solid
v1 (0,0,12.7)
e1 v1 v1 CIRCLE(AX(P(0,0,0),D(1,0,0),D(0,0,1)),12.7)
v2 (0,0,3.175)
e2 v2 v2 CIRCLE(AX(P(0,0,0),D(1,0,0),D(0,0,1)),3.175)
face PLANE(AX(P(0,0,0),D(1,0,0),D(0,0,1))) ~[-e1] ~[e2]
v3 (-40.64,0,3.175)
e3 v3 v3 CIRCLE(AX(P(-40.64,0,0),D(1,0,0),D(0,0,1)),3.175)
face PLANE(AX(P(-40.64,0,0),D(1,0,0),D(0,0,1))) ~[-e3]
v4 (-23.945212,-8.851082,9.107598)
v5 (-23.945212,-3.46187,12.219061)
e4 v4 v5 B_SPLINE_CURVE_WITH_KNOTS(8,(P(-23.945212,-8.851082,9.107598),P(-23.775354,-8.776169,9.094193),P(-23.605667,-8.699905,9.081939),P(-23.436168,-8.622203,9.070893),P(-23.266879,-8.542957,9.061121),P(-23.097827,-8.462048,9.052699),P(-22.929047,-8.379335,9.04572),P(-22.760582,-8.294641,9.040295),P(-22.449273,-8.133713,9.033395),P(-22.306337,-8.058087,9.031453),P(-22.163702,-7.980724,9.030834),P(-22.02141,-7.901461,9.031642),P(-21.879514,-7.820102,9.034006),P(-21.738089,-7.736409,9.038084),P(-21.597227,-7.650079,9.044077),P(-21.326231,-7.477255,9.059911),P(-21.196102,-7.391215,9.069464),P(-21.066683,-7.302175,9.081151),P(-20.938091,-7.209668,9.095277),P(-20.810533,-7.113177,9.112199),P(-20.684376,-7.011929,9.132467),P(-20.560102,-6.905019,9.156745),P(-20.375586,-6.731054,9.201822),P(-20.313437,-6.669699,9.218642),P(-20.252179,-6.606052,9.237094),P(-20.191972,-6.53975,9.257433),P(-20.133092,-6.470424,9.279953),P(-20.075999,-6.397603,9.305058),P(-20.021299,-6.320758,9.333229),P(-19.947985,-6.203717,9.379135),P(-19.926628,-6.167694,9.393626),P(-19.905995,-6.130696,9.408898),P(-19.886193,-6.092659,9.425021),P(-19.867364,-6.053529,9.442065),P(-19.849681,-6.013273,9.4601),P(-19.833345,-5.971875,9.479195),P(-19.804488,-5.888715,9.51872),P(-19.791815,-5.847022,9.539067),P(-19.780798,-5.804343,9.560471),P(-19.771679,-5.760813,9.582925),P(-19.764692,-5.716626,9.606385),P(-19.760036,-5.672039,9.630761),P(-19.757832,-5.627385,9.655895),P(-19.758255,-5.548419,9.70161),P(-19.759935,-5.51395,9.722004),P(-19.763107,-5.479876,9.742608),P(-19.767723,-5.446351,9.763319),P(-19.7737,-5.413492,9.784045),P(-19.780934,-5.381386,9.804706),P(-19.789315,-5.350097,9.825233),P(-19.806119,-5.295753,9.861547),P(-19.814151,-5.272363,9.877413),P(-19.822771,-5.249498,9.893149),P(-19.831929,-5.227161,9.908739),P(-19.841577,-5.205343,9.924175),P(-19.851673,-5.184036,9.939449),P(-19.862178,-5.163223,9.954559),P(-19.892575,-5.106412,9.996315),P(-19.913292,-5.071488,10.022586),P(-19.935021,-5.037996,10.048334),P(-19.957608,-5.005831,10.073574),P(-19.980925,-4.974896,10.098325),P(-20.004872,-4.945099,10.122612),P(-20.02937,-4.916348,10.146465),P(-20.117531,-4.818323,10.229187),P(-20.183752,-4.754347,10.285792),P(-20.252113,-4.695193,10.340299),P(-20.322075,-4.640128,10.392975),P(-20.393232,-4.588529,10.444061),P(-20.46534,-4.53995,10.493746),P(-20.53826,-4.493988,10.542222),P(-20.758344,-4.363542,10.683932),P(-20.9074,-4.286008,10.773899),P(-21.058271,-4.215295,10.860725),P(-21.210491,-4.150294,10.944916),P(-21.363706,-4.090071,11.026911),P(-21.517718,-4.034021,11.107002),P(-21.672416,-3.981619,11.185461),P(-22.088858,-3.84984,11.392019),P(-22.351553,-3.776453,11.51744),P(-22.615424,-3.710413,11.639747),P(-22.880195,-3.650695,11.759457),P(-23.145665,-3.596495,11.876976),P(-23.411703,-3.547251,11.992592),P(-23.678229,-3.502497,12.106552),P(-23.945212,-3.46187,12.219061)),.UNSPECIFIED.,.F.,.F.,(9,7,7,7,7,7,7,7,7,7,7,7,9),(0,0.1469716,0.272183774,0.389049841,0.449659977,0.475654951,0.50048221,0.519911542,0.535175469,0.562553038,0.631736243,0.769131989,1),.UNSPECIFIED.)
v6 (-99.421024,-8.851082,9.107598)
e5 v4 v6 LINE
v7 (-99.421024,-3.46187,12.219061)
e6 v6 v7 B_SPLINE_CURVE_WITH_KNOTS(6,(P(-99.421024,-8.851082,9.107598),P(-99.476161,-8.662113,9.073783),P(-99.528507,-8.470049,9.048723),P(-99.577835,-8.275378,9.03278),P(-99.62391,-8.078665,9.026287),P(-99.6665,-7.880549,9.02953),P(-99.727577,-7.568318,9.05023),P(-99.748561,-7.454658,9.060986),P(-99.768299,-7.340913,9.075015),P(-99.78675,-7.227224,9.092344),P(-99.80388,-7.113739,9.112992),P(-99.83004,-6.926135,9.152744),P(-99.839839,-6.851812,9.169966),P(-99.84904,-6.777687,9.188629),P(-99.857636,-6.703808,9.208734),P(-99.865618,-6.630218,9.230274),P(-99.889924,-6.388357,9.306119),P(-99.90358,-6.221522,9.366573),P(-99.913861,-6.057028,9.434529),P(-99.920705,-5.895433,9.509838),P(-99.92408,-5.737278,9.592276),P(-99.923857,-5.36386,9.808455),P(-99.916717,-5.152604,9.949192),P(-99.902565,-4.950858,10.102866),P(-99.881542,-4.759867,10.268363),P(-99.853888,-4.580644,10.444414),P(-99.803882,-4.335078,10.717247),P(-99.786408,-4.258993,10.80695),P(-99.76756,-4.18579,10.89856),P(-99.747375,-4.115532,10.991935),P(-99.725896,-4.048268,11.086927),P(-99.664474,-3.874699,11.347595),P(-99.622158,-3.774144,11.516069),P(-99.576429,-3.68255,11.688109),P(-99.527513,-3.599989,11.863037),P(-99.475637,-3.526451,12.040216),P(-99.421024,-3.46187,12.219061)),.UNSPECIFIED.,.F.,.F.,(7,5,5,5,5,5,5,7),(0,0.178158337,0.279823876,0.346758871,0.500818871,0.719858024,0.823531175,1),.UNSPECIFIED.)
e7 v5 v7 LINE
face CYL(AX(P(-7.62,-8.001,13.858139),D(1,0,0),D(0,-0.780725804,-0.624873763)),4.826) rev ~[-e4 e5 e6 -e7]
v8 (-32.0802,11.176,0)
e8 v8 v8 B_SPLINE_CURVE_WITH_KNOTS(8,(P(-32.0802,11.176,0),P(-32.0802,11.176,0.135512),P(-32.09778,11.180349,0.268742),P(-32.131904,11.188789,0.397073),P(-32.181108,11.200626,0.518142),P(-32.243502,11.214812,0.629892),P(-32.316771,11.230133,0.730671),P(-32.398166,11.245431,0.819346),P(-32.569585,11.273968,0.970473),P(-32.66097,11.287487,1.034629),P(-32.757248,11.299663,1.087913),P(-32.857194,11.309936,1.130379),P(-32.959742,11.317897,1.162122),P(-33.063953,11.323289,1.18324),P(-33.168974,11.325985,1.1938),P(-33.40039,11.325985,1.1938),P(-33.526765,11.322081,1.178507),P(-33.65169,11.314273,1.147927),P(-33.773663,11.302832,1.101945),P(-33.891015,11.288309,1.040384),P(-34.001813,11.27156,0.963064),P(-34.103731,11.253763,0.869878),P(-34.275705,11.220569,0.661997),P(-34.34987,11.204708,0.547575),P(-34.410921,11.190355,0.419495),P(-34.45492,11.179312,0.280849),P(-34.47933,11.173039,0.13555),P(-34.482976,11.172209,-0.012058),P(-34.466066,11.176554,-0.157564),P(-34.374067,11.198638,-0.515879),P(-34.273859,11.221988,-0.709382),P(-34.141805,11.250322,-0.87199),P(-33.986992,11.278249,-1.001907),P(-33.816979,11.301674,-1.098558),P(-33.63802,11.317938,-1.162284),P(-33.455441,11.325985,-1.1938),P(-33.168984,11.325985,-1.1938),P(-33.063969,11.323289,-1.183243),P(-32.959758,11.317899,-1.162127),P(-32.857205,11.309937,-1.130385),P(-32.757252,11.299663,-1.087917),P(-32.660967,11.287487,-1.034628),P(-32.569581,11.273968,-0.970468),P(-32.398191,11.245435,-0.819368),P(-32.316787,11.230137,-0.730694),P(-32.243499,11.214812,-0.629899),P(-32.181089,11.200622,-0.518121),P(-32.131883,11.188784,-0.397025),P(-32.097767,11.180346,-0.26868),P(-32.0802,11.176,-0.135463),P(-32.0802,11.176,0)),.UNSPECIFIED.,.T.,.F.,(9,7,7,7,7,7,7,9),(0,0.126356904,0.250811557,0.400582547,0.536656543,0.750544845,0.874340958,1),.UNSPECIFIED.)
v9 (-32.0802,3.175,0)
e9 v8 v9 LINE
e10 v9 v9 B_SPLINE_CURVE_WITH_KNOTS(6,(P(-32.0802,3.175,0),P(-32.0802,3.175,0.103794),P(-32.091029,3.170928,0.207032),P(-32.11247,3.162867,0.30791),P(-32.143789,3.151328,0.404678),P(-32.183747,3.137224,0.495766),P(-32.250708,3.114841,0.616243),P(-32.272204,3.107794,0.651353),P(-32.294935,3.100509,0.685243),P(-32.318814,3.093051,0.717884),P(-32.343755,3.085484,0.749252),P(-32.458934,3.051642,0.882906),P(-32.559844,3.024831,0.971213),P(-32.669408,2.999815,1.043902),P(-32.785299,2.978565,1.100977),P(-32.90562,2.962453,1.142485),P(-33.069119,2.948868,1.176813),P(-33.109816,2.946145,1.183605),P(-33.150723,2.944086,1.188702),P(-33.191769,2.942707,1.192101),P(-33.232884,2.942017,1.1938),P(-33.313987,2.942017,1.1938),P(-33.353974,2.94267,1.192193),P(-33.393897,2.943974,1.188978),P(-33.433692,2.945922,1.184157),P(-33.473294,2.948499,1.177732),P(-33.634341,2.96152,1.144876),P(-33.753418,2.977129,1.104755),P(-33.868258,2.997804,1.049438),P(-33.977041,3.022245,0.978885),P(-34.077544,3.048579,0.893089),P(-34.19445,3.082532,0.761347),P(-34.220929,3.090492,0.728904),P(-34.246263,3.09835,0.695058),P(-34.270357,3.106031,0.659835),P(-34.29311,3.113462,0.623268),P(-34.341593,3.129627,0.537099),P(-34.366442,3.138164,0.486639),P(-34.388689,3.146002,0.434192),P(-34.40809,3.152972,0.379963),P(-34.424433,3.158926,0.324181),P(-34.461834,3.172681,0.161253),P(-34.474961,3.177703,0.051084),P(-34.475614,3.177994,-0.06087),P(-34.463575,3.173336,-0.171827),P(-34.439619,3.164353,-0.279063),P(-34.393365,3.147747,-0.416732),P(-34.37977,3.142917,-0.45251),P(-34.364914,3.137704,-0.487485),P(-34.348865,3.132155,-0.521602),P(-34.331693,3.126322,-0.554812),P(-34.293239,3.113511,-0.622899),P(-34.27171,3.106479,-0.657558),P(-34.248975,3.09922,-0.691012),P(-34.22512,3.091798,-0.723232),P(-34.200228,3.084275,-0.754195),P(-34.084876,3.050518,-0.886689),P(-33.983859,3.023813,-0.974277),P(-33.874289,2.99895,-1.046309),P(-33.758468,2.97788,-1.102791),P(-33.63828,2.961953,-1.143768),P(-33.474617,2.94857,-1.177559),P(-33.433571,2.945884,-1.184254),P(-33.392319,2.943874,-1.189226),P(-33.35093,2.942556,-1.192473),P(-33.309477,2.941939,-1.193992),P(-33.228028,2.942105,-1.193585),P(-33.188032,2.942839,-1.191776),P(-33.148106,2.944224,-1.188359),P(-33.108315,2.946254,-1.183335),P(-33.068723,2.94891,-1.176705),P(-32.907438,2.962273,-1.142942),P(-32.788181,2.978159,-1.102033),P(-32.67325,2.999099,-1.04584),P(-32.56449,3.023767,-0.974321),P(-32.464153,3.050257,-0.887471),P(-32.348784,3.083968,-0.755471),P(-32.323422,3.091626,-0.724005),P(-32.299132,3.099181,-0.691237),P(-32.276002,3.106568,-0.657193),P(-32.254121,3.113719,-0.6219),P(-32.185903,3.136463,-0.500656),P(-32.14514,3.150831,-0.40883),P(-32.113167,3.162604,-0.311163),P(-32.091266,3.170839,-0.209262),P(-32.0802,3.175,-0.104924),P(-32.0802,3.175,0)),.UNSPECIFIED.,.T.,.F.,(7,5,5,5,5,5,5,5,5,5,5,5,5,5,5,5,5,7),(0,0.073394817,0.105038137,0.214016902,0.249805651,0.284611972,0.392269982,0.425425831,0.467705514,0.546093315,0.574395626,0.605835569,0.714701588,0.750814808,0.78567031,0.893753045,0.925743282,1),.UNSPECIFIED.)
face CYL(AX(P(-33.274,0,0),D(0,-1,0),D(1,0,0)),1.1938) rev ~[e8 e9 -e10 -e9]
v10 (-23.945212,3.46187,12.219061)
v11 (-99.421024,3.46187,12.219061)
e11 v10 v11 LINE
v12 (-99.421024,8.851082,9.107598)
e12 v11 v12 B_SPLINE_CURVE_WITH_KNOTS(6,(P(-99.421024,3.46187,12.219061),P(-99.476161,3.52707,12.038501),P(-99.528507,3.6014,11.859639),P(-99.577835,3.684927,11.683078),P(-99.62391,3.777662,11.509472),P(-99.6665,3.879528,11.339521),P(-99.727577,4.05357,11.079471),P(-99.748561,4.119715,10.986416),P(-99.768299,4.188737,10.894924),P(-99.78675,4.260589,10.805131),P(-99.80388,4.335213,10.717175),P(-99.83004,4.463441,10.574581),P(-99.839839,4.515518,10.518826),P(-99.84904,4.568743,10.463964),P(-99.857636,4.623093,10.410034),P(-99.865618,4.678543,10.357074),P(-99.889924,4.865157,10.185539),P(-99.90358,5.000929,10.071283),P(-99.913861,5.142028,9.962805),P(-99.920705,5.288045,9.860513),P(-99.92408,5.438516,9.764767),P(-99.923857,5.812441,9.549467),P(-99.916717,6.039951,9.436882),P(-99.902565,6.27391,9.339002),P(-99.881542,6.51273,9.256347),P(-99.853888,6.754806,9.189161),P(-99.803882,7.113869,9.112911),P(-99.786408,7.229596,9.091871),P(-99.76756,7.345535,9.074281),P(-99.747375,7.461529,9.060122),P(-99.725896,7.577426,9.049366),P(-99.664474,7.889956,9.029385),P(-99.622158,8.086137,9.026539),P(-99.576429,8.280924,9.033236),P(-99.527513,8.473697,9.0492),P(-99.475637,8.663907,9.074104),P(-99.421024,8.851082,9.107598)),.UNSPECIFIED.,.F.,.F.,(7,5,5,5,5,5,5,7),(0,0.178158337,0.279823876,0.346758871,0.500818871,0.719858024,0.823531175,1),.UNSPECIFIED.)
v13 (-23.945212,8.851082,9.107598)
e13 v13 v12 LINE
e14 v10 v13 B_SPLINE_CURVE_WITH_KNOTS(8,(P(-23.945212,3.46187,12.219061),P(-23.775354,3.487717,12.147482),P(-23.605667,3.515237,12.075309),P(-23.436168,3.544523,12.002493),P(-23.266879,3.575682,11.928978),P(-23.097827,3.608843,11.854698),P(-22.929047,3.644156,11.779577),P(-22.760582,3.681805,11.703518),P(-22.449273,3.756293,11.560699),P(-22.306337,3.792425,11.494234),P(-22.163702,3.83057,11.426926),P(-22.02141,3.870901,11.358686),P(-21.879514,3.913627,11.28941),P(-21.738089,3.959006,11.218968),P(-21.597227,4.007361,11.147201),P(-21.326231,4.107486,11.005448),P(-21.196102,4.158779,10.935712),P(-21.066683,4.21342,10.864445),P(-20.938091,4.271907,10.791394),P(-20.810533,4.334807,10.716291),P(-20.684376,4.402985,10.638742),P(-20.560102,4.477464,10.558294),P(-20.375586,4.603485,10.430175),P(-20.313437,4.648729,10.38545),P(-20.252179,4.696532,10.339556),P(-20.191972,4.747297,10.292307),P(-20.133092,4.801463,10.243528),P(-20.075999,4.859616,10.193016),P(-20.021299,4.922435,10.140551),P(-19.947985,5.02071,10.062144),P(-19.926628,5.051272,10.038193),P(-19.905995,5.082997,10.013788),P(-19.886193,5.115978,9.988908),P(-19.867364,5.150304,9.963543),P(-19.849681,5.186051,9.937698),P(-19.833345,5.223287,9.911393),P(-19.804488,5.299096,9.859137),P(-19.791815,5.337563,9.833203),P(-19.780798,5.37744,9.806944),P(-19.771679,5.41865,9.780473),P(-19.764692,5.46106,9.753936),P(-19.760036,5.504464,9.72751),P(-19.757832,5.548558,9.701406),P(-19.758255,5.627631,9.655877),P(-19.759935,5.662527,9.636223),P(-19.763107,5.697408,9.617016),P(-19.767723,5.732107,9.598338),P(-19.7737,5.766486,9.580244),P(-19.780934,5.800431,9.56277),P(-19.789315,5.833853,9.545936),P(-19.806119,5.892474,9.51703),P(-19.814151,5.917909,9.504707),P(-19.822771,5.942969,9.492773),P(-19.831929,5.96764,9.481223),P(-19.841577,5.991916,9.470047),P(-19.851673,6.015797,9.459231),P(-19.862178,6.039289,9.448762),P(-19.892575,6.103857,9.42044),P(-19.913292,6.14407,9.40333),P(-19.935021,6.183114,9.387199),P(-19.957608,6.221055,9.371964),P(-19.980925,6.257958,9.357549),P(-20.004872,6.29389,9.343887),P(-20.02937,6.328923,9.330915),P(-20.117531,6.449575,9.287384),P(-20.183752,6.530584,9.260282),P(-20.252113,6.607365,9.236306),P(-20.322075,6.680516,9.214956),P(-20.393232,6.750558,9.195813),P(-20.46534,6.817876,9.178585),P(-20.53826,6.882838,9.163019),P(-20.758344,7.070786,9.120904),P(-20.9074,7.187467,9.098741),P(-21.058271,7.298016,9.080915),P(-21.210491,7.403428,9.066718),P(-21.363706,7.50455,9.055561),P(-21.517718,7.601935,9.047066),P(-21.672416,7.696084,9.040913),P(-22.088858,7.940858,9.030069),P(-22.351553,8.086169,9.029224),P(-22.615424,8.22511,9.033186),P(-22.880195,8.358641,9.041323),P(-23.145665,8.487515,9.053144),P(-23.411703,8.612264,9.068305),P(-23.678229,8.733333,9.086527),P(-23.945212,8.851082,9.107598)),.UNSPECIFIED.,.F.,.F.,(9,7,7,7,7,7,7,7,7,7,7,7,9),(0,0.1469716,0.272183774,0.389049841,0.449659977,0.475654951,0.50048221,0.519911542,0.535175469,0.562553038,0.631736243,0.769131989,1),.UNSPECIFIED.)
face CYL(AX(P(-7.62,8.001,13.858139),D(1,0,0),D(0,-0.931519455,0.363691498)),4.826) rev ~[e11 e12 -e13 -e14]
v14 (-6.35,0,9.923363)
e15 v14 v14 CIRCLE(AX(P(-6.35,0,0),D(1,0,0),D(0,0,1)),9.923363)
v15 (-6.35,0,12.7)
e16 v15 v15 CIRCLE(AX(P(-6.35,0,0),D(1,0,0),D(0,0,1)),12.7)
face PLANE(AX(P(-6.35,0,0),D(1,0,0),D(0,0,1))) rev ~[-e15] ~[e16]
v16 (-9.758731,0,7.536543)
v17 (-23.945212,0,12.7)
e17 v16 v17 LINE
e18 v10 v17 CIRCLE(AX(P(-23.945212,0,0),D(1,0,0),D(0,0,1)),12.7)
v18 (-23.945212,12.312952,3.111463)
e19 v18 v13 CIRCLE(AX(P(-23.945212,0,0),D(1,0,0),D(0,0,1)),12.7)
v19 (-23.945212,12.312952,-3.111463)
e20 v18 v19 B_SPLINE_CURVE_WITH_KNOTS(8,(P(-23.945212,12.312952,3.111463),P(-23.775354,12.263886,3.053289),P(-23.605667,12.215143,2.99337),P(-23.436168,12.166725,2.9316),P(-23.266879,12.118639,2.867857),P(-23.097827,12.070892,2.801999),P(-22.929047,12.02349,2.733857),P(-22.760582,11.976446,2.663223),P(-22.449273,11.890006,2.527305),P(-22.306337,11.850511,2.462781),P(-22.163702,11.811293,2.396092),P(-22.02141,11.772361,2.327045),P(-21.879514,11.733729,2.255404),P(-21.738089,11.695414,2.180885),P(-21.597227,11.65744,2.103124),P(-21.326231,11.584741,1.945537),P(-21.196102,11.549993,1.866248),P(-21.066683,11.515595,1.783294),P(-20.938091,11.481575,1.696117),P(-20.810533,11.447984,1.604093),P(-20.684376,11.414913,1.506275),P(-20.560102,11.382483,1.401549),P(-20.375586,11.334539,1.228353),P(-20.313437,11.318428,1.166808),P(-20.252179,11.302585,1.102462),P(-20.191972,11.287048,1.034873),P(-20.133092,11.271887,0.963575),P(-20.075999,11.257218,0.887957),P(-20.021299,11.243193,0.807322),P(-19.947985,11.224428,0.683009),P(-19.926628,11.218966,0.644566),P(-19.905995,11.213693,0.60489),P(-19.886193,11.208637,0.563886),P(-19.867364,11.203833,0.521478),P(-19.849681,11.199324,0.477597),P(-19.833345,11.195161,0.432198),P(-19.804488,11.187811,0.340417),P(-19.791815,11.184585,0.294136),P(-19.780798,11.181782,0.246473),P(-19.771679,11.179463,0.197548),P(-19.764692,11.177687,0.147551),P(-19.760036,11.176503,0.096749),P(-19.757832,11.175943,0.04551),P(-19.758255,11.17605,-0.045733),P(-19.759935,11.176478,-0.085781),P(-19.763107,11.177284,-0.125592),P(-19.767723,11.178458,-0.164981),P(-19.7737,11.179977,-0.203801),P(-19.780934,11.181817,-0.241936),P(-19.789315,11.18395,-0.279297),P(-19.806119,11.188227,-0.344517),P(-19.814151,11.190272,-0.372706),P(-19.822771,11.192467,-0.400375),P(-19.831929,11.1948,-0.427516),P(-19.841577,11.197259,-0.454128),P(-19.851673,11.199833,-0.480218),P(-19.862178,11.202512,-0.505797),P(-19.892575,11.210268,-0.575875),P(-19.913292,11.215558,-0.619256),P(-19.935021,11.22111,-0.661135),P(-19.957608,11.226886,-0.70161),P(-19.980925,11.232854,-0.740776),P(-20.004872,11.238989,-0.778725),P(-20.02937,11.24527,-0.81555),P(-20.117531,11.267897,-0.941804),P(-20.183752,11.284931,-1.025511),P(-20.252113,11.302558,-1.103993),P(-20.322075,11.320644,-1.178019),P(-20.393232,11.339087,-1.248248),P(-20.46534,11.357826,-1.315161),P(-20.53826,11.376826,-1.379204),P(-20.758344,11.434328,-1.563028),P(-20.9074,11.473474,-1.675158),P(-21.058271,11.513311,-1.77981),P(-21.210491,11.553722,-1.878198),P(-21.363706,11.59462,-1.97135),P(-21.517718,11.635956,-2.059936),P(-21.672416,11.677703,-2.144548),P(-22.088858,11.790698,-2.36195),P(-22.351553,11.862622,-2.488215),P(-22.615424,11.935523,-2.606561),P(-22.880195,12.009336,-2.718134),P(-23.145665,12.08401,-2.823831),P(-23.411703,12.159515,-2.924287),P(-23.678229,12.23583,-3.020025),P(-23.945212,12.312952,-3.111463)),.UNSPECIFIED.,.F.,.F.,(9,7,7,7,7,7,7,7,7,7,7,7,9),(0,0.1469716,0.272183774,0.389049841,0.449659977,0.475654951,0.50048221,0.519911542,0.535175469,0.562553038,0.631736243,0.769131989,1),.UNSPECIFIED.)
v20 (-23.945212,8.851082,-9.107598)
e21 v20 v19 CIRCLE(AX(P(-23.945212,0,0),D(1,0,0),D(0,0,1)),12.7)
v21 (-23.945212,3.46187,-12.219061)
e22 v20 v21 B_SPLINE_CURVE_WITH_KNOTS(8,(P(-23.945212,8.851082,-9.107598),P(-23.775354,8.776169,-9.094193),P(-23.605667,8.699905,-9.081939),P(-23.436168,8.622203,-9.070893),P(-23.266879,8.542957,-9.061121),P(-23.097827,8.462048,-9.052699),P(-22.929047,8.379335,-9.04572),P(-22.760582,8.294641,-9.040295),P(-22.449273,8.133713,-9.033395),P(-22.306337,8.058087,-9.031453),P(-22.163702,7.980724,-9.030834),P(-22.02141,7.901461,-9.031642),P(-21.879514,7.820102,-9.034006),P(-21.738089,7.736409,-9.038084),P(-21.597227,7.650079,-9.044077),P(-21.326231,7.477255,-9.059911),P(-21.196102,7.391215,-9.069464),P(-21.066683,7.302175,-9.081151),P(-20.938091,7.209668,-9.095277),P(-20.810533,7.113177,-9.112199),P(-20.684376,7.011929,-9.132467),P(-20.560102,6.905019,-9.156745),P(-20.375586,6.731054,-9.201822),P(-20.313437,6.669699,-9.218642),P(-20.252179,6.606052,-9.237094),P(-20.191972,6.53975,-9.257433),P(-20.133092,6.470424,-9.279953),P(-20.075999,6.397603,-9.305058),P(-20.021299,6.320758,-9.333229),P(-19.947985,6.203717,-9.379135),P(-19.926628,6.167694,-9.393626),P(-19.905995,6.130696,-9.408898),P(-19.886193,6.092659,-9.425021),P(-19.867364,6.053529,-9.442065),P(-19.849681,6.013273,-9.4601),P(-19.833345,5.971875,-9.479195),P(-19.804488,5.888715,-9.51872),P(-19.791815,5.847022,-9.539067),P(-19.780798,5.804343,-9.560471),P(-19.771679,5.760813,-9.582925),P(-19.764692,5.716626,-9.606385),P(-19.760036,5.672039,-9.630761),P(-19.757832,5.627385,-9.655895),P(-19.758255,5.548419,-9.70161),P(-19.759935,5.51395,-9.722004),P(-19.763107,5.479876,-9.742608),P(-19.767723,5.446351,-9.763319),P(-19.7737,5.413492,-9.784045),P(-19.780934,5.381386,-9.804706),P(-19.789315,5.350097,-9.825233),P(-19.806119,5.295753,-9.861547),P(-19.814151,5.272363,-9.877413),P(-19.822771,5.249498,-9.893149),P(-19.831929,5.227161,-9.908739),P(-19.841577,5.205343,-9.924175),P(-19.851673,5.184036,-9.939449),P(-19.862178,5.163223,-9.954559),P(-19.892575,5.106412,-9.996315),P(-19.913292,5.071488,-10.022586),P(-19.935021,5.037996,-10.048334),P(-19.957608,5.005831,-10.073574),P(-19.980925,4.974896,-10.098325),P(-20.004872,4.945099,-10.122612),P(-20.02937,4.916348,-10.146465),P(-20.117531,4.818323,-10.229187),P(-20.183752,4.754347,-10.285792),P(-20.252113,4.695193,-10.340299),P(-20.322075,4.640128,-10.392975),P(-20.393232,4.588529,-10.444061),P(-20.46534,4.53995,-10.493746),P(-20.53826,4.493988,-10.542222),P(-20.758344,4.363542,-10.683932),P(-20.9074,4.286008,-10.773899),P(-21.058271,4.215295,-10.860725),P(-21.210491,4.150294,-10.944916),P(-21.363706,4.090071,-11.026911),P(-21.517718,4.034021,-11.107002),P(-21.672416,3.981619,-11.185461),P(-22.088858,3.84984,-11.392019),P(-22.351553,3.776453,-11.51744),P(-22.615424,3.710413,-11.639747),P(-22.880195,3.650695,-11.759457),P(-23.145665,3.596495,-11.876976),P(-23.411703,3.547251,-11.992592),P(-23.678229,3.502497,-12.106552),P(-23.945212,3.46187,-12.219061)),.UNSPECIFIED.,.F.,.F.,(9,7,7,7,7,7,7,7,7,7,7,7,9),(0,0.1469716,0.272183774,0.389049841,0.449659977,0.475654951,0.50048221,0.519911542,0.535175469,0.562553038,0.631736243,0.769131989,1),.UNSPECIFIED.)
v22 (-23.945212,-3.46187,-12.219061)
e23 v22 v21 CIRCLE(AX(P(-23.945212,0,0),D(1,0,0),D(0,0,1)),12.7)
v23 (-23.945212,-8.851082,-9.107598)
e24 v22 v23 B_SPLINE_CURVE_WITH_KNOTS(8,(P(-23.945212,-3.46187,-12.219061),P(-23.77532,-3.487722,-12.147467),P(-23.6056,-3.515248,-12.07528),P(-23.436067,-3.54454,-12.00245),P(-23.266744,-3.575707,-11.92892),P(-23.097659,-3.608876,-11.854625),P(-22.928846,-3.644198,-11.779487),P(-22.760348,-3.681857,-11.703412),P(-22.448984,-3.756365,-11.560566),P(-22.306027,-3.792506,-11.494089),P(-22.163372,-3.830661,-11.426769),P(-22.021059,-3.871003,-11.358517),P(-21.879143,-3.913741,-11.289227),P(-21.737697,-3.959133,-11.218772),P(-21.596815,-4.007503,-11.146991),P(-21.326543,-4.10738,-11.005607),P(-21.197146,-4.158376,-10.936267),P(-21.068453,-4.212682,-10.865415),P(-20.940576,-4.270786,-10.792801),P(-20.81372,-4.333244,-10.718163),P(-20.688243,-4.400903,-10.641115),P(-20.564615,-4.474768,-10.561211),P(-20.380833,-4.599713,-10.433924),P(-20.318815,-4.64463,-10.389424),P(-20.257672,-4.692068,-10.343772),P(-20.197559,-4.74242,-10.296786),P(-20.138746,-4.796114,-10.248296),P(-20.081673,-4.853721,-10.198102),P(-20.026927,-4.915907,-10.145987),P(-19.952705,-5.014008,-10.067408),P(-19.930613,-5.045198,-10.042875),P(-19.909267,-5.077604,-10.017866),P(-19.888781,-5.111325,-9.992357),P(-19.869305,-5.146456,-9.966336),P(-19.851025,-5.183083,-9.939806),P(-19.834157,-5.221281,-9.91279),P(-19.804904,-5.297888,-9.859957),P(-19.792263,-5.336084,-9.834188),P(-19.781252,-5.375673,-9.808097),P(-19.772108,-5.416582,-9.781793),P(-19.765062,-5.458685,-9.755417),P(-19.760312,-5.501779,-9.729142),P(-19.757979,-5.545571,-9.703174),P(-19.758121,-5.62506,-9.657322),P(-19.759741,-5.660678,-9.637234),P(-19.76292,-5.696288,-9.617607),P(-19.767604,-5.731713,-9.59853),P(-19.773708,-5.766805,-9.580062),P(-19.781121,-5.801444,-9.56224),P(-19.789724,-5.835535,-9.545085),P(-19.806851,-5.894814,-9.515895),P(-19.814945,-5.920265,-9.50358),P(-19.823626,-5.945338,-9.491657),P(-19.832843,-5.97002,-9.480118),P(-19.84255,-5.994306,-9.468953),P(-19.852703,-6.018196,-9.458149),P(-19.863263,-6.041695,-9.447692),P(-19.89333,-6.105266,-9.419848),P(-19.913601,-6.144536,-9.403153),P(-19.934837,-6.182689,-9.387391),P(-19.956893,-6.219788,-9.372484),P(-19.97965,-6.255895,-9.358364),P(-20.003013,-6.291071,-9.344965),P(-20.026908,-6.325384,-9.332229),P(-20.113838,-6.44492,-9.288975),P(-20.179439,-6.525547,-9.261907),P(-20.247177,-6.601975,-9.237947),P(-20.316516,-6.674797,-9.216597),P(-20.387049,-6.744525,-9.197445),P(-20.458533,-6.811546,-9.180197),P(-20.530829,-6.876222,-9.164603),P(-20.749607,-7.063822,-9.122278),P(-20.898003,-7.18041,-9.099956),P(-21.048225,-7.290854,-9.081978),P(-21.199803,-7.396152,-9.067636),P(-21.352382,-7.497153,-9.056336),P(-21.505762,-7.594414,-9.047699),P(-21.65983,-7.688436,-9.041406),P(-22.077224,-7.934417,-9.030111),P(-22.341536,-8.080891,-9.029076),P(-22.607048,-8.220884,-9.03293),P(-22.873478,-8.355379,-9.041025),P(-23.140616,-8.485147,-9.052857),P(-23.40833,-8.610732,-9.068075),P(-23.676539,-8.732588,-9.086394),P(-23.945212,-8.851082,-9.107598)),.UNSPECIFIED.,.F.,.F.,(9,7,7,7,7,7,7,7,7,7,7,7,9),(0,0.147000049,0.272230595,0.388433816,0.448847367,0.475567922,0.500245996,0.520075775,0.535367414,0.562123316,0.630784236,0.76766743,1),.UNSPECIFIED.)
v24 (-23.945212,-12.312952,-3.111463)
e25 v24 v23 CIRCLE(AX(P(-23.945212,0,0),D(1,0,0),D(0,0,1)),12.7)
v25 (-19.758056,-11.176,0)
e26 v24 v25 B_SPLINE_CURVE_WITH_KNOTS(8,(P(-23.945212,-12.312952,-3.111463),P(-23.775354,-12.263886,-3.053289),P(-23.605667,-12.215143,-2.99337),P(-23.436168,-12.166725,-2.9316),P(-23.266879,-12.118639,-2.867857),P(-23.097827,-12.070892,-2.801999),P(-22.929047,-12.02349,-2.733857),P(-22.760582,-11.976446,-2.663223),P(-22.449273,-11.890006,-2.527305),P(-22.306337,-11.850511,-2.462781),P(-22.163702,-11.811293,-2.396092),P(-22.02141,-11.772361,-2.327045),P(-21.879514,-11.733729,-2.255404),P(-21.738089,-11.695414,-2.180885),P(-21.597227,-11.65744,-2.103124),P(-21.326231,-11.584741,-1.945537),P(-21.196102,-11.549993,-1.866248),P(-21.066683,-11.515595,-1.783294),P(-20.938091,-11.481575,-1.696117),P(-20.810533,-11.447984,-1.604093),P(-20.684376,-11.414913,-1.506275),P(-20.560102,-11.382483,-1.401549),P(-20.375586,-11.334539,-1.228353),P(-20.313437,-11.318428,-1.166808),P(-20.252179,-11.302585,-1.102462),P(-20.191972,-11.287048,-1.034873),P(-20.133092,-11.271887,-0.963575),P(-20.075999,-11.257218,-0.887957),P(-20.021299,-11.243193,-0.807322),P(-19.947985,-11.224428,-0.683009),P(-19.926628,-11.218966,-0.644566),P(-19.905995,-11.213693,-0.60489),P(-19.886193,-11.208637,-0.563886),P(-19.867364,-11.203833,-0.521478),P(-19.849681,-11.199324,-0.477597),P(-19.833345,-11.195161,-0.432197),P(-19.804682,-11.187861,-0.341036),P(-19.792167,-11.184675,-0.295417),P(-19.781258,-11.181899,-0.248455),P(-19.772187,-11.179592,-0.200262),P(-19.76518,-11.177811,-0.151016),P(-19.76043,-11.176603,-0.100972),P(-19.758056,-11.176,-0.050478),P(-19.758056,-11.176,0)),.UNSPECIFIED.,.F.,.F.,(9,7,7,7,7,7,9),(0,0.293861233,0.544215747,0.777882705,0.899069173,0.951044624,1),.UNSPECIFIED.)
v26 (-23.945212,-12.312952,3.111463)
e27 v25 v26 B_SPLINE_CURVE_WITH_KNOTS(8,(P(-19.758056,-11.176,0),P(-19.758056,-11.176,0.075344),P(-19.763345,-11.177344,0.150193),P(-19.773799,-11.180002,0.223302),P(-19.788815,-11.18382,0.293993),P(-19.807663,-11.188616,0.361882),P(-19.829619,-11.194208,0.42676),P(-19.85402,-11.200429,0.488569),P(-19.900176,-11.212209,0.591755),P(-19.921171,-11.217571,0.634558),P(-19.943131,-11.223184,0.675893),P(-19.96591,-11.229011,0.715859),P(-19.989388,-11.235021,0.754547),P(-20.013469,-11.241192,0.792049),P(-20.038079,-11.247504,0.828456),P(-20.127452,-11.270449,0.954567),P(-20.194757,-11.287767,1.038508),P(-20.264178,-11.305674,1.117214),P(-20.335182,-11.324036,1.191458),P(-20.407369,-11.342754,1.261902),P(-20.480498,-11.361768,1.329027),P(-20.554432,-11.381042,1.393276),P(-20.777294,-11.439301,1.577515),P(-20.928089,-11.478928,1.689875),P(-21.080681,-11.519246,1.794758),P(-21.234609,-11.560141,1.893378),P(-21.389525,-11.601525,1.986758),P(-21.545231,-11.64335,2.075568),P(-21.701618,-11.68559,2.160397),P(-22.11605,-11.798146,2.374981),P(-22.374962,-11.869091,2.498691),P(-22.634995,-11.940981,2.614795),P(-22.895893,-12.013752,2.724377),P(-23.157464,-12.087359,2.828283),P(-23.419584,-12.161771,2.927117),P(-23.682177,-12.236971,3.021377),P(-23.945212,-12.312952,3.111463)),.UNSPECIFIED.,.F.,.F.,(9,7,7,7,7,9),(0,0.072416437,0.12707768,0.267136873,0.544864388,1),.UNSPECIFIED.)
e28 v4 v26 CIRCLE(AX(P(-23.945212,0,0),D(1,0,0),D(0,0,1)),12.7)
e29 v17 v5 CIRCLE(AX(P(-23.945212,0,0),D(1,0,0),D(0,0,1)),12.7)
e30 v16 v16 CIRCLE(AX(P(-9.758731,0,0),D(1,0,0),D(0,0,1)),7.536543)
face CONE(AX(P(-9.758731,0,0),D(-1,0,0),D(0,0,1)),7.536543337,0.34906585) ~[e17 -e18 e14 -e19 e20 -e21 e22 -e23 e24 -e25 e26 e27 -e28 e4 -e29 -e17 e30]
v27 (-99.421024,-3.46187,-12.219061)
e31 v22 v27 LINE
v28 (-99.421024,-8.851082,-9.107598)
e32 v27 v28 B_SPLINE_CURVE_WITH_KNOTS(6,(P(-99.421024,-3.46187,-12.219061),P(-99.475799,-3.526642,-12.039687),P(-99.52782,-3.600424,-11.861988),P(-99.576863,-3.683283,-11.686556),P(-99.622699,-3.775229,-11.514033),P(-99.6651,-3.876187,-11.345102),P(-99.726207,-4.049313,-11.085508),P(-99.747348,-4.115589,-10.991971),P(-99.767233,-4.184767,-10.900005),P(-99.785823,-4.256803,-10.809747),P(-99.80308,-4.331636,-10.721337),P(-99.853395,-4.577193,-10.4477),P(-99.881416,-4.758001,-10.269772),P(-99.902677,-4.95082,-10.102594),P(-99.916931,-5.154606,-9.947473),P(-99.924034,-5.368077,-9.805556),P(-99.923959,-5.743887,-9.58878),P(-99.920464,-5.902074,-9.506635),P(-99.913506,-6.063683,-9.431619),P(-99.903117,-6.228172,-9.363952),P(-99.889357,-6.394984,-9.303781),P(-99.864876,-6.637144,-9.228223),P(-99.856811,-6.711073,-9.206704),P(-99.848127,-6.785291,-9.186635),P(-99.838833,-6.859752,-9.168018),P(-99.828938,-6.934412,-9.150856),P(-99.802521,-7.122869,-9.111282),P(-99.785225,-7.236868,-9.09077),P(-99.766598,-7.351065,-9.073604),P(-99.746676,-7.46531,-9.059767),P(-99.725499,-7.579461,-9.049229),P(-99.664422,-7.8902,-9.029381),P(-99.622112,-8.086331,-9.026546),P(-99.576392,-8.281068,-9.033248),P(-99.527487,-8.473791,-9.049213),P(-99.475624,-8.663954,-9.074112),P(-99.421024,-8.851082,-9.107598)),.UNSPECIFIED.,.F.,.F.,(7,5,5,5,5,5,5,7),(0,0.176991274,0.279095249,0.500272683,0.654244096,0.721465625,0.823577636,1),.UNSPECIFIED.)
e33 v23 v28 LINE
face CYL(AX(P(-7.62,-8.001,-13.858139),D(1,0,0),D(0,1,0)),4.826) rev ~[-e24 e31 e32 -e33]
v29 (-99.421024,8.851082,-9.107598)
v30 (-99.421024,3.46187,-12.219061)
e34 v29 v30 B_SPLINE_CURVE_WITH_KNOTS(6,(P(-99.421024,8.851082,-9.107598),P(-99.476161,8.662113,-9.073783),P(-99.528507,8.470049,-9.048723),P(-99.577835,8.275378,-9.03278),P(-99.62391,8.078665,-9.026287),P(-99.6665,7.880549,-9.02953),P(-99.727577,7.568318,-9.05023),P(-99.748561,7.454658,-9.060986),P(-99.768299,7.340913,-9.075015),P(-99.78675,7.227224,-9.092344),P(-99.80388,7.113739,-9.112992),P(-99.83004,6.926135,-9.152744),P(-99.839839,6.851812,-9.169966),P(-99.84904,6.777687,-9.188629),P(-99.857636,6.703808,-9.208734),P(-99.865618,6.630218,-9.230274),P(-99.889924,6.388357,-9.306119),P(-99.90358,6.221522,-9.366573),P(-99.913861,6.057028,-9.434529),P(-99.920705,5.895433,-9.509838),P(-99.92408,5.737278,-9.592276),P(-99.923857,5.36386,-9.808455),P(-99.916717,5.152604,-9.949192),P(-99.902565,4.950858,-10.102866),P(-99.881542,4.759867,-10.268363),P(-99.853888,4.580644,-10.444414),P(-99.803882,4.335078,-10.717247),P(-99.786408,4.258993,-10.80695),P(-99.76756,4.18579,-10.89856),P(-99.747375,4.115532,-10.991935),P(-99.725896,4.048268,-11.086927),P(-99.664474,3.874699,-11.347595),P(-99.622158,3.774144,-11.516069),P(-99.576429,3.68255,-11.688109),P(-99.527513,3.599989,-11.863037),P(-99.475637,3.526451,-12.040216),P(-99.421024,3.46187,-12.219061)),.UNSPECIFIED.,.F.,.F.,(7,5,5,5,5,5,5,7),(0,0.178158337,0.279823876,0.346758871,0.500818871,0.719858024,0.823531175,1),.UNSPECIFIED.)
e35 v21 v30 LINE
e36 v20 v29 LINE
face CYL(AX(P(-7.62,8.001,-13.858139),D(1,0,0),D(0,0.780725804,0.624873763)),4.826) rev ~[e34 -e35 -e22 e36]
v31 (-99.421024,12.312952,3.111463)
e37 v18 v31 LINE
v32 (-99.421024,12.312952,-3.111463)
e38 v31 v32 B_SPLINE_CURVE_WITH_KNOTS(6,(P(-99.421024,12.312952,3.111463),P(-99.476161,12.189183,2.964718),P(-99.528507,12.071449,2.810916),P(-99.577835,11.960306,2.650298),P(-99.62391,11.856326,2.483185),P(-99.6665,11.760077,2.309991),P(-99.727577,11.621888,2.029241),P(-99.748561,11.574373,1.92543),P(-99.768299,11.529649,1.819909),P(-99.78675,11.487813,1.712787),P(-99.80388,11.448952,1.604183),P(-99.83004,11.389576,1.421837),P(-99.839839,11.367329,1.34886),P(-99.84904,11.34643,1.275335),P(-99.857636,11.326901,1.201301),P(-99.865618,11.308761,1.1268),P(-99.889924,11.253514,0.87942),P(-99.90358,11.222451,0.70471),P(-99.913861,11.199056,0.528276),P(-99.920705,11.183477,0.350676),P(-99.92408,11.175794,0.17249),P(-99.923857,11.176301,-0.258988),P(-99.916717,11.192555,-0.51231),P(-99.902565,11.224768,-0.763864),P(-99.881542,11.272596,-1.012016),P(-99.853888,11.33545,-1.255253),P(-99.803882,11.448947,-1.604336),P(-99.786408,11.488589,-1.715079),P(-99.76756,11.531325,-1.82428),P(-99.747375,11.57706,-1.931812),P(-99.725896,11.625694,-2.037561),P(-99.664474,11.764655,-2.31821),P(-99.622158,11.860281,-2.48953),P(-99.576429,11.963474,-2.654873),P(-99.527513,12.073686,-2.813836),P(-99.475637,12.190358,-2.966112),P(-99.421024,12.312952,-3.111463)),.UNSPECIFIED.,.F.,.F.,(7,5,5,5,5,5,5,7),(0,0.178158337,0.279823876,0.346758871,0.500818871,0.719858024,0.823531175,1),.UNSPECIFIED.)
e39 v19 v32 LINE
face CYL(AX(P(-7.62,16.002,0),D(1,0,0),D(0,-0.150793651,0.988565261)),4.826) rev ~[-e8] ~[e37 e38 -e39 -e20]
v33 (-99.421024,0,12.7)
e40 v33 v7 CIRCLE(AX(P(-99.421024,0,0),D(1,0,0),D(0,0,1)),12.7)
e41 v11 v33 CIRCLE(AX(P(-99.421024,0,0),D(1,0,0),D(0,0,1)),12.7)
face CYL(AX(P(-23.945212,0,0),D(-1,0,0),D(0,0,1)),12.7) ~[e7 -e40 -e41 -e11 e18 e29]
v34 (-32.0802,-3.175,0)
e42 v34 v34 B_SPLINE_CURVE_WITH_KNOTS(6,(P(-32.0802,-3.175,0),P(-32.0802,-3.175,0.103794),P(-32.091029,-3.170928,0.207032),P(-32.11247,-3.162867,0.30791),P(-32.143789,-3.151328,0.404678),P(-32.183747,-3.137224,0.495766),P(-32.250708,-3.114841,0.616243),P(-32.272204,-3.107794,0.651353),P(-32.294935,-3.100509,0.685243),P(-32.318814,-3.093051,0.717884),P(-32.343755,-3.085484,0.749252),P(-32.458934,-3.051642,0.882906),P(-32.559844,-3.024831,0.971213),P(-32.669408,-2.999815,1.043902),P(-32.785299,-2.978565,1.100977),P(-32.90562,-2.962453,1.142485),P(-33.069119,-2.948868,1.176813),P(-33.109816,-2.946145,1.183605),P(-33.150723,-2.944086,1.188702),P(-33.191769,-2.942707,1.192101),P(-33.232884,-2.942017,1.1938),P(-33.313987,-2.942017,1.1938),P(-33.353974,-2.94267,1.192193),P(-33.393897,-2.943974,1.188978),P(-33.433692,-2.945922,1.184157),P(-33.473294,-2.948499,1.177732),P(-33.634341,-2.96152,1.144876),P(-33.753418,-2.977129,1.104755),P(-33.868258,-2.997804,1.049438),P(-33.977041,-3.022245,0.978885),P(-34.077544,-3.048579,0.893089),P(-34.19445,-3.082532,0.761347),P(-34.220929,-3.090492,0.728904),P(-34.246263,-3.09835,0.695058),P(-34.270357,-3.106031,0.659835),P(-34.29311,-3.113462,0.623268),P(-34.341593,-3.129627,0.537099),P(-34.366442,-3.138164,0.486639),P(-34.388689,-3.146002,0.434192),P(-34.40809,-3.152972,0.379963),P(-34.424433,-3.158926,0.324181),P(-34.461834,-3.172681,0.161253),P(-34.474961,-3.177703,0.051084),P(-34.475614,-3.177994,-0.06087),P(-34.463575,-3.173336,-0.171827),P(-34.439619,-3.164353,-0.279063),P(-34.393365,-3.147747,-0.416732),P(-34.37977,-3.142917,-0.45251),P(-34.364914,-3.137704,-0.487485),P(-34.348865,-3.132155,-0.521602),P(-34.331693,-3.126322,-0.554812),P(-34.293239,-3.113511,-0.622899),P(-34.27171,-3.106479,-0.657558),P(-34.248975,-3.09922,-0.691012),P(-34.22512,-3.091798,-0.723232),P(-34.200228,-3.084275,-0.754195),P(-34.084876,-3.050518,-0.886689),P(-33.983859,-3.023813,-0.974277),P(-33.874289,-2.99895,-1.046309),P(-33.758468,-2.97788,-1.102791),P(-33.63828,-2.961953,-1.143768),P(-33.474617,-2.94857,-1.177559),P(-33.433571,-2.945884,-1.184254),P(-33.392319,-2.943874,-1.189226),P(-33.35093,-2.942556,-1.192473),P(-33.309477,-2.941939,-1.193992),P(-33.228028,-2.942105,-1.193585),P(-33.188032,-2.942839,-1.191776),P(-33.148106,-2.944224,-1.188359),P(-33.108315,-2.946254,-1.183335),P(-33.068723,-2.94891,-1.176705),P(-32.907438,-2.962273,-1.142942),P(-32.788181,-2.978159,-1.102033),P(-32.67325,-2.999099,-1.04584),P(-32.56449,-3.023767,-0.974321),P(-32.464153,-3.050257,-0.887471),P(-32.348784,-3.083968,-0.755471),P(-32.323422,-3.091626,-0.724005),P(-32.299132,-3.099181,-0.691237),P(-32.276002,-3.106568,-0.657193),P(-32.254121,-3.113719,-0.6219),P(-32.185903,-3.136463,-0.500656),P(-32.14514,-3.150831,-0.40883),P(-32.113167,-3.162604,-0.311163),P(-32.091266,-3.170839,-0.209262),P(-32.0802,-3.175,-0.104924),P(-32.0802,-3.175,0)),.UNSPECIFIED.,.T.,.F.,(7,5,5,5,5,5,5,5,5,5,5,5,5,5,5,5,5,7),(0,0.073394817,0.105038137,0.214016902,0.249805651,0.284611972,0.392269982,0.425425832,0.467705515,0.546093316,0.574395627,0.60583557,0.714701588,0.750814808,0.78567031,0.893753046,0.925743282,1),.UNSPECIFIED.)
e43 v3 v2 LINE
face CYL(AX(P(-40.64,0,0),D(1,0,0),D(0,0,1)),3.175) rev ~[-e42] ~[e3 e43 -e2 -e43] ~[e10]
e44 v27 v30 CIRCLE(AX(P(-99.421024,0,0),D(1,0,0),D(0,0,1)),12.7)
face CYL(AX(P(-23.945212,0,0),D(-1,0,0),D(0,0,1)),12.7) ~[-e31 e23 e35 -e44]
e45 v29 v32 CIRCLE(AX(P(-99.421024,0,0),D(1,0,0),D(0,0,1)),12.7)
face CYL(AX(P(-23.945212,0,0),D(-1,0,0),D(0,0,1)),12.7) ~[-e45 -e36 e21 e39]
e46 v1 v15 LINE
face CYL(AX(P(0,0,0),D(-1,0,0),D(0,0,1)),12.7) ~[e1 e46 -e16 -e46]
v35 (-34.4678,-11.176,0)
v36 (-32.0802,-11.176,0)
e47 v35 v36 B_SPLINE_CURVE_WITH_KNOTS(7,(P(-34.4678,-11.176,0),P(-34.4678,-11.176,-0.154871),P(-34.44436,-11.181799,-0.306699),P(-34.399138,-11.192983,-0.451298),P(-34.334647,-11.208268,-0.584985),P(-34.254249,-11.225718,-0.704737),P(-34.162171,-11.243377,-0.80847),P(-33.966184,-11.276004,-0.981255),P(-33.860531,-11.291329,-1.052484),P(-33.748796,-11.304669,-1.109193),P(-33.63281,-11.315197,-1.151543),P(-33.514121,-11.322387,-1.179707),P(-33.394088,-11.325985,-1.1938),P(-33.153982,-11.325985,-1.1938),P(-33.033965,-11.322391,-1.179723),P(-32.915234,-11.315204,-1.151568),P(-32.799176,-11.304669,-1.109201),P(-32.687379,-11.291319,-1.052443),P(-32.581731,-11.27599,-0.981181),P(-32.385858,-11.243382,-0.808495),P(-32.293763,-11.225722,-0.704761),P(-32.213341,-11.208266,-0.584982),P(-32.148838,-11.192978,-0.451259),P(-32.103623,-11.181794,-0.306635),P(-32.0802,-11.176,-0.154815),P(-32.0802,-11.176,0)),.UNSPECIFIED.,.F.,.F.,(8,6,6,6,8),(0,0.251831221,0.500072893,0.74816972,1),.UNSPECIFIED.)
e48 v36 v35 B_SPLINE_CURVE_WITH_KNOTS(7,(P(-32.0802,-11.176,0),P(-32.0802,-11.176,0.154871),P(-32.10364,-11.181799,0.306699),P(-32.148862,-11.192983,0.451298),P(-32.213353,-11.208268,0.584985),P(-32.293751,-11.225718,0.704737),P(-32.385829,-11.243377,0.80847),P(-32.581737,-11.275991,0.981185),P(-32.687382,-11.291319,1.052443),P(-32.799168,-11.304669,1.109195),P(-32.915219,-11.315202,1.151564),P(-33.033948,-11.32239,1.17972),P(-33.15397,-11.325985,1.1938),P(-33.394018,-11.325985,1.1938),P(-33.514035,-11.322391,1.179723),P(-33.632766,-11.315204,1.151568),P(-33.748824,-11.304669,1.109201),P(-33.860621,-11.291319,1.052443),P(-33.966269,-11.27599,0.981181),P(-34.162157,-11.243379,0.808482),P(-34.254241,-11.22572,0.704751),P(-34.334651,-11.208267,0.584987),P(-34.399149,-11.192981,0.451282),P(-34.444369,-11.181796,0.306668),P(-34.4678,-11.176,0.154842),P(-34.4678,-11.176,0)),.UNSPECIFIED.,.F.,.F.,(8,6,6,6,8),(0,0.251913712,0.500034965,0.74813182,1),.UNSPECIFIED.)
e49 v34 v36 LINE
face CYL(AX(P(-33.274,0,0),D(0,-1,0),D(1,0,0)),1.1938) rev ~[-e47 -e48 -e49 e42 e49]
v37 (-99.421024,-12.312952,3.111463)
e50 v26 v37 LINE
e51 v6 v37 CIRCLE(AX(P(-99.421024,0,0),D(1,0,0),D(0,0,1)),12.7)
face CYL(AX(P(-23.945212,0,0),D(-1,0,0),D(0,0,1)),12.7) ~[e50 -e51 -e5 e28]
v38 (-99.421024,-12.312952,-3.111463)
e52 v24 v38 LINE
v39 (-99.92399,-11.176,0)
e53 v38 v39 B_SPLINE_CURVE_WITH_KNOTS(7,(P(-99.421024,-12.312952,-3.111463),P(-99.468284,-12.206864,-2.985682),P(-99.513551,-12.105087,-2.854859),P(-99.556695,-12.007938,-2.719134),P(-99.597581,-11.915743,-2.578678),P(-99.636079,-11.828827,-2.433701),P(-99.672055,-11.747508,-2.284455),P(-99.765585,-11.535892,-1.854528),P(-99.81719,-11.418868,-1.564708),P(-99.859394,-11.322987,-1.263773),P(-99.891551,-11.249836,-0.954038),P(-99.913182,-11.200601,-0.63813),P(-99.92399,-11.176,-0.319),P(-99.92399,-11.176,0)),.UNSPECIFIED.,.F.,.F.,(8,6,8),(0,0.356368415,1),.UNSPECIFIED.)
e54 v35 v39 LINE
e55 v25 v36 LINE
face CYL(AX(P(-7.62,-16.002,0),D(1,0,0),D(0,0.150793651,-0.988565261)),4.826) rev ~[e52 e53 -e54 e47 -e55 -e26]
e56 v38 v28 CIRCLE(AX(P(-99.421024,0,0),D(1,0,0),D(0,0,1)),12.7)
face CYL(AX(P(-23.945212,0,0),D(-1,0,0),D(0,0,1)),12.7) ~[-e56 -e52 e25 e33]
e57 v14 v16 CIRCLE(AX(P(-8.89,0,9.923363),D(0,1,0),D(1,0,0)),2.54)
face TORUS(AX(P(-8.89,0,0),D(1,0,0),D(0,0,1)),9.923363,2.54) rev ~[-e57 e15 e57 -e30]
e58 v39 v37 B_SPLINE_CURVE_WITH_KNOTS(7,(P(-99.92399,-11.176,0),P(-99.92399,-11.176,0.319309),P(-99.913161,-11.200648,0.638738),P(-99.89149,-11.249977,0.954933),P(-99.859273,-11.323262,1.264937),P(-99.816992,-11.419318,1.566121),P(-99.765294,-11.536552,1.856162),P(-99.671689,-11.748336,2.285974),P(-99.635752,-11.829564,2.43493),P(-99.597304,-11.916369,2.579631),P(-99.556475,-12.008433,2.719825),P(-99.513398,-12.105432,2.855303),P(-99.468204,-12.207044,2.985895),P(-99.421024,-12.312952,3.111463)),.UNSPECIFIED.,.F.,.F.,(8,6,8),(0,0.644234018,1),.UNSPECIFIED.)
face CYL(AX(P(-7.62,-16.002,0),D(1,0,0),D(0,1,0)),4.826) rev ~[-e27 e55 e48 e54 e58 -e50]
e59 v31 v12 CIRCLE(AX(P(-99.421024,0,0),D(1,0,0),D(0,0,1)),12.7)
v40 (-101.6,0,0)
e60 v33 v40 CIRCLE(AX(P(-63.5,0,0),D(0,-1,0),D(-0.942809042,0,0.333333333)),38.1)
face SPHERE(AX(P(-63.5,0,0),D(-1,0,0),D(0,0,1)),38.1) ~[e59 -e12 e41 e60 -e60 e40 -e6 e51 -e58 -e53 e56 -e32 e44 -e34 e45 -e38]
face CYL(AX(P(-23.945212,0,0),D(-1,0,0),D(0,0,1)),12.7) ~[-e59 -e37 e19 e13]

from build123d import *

# Parameters (mm, degrees)
F3_START = -7.62
F3_DEPTH = 93.981
F4_R     = 1.1938
F5_DEPTH = 12.7


with BuildPart() as f1:
    # F0 (on Front) → F1 (revolve)
    with BuildSketch(Plane.XZ):
        with BuildLine():
            Line((-101.6, 0), (-40.64, 0))
            Line((-40.64, 0), (-40.64, 3.175))
            Line((-40.64, 3.175), (0, 3.175))
            Line((0, 3.175), (0, 12.7))
            Line((0, 12.7), (-6.35, 12.7))
            Line((-6.35, 12.7), (-6.35, 9.9233625935))
            ThreePointArc((-6.35, 9.9233625935), (-7.4331158517, 7.842716401), (-9.758731164, 7.5365433367))
            Line((-9.758731164, 7.5365433367), (-23.9452117528, 12.7))
            Line((-23.9452117528, 12.7), (-99.4210244843, 12.7))
            ThreePointArc((-99.4210244843, 12.7), (-101.0513051228, 6.4427853895), (-101.6, 0))
        make_face()
    revolve(axis=Axis((-71.12, 0, 0), (1, 0, 0)))

    # F2 (on Right) → F3 (cut)
    with BuildSketch(Plane.YZ.offset(F3_START)):
        with BuildLine():
            ThreePointArc((-3.175, 13.8581385114), (-3.2583413998, 14.751147695), (-3.5054871123, 15.6133136811))
            ThreePointArc((-3.5054871123, 15.6133136811), (-8.001, 13.8581385114), (-11.768782729, 10.8424977325))
            ThreePointArc((-11.768782729, 10.8424977325), (-6.4030393387, 9.3043710903), (-3.175, 13.8581385114))
        make_face()
        with BuildLine():
            ThreePointArc((3.5054871123, 15.6133136811), (5.588, 9.6786999127), (11.768782729, 10.8424977325))
            ThreePointArc((11.768782729, 10.8424977325), (8.001, 13.8581385114), (3.5054871123, 15.6133136811))
        make_face()
        with BuildLine():
            ThreePointArc((15.2742698413, -4.7708159487), (15.8190213035, -2.413), (16.002, 0))
            ThreePointArc((16.002, 0), (15.8190213035, 2.413), (15.2742698413, 4.7708159487))
            ThreePointArc((15.2742698413, 4.7708159487), (11.176, 0), (15.2742698413, -4.7708159487))
        make_face()
        with BuildLine():
            ThreePointArc((3.5054871123, -15.6133136811), (8.001, -13.8581385114), (11.768782729, -10.8424977325))
            ThreePointArc((11.768782729, -10.8424977325), (5.588, -9.6786999127), (3.5054871123, -15.6133136811))
        make_face()
        with BuildLine():
            ThreePointArc((-11.768782729, -10.8424977325), (-8.001, -13.8581385114), (-3.5054871123, -15.6133136811))
            ThreePointArc((-3.5054871123, -15.6133136811), (-3.2583413998, -14.751147695), (-3.175, -13.8581385114))
            ThreePointArc((-3.175, -13.8581385114), (-6.4030393387, -9.3043710903), (-11.768782729, -10.8424977325))
        make_face()
        with BuildLine():
            ThreePointArc((-11.176, 0), (-12.3412417626, 3.1446979389), (-15.2742698413, 4.7708159487))
            ThreePointArc((-15.2742698413, 4.7708159487), (-16.002, 0), (-15.2742698413, -4.7708159487))
            ThreePointArc((-15.2742698413, -4.7708159487), (-12.3412417626, -3.1446979389), (-11.176, 0))
        make_face()
    extrude(amount=-F3_DEPTH, mode=Mode.SUBTRACT)

    # F4 (on Front) → F5 (cut, symmetric)
    with BuildSketch(Plane.XZ):
        with Locations((-33.274, 0)):
            Circle(F4_R)
    extrude(amount=F5_DEPTH, both=True, mode=Mode.SUBTRACT)


solid = f1.part
